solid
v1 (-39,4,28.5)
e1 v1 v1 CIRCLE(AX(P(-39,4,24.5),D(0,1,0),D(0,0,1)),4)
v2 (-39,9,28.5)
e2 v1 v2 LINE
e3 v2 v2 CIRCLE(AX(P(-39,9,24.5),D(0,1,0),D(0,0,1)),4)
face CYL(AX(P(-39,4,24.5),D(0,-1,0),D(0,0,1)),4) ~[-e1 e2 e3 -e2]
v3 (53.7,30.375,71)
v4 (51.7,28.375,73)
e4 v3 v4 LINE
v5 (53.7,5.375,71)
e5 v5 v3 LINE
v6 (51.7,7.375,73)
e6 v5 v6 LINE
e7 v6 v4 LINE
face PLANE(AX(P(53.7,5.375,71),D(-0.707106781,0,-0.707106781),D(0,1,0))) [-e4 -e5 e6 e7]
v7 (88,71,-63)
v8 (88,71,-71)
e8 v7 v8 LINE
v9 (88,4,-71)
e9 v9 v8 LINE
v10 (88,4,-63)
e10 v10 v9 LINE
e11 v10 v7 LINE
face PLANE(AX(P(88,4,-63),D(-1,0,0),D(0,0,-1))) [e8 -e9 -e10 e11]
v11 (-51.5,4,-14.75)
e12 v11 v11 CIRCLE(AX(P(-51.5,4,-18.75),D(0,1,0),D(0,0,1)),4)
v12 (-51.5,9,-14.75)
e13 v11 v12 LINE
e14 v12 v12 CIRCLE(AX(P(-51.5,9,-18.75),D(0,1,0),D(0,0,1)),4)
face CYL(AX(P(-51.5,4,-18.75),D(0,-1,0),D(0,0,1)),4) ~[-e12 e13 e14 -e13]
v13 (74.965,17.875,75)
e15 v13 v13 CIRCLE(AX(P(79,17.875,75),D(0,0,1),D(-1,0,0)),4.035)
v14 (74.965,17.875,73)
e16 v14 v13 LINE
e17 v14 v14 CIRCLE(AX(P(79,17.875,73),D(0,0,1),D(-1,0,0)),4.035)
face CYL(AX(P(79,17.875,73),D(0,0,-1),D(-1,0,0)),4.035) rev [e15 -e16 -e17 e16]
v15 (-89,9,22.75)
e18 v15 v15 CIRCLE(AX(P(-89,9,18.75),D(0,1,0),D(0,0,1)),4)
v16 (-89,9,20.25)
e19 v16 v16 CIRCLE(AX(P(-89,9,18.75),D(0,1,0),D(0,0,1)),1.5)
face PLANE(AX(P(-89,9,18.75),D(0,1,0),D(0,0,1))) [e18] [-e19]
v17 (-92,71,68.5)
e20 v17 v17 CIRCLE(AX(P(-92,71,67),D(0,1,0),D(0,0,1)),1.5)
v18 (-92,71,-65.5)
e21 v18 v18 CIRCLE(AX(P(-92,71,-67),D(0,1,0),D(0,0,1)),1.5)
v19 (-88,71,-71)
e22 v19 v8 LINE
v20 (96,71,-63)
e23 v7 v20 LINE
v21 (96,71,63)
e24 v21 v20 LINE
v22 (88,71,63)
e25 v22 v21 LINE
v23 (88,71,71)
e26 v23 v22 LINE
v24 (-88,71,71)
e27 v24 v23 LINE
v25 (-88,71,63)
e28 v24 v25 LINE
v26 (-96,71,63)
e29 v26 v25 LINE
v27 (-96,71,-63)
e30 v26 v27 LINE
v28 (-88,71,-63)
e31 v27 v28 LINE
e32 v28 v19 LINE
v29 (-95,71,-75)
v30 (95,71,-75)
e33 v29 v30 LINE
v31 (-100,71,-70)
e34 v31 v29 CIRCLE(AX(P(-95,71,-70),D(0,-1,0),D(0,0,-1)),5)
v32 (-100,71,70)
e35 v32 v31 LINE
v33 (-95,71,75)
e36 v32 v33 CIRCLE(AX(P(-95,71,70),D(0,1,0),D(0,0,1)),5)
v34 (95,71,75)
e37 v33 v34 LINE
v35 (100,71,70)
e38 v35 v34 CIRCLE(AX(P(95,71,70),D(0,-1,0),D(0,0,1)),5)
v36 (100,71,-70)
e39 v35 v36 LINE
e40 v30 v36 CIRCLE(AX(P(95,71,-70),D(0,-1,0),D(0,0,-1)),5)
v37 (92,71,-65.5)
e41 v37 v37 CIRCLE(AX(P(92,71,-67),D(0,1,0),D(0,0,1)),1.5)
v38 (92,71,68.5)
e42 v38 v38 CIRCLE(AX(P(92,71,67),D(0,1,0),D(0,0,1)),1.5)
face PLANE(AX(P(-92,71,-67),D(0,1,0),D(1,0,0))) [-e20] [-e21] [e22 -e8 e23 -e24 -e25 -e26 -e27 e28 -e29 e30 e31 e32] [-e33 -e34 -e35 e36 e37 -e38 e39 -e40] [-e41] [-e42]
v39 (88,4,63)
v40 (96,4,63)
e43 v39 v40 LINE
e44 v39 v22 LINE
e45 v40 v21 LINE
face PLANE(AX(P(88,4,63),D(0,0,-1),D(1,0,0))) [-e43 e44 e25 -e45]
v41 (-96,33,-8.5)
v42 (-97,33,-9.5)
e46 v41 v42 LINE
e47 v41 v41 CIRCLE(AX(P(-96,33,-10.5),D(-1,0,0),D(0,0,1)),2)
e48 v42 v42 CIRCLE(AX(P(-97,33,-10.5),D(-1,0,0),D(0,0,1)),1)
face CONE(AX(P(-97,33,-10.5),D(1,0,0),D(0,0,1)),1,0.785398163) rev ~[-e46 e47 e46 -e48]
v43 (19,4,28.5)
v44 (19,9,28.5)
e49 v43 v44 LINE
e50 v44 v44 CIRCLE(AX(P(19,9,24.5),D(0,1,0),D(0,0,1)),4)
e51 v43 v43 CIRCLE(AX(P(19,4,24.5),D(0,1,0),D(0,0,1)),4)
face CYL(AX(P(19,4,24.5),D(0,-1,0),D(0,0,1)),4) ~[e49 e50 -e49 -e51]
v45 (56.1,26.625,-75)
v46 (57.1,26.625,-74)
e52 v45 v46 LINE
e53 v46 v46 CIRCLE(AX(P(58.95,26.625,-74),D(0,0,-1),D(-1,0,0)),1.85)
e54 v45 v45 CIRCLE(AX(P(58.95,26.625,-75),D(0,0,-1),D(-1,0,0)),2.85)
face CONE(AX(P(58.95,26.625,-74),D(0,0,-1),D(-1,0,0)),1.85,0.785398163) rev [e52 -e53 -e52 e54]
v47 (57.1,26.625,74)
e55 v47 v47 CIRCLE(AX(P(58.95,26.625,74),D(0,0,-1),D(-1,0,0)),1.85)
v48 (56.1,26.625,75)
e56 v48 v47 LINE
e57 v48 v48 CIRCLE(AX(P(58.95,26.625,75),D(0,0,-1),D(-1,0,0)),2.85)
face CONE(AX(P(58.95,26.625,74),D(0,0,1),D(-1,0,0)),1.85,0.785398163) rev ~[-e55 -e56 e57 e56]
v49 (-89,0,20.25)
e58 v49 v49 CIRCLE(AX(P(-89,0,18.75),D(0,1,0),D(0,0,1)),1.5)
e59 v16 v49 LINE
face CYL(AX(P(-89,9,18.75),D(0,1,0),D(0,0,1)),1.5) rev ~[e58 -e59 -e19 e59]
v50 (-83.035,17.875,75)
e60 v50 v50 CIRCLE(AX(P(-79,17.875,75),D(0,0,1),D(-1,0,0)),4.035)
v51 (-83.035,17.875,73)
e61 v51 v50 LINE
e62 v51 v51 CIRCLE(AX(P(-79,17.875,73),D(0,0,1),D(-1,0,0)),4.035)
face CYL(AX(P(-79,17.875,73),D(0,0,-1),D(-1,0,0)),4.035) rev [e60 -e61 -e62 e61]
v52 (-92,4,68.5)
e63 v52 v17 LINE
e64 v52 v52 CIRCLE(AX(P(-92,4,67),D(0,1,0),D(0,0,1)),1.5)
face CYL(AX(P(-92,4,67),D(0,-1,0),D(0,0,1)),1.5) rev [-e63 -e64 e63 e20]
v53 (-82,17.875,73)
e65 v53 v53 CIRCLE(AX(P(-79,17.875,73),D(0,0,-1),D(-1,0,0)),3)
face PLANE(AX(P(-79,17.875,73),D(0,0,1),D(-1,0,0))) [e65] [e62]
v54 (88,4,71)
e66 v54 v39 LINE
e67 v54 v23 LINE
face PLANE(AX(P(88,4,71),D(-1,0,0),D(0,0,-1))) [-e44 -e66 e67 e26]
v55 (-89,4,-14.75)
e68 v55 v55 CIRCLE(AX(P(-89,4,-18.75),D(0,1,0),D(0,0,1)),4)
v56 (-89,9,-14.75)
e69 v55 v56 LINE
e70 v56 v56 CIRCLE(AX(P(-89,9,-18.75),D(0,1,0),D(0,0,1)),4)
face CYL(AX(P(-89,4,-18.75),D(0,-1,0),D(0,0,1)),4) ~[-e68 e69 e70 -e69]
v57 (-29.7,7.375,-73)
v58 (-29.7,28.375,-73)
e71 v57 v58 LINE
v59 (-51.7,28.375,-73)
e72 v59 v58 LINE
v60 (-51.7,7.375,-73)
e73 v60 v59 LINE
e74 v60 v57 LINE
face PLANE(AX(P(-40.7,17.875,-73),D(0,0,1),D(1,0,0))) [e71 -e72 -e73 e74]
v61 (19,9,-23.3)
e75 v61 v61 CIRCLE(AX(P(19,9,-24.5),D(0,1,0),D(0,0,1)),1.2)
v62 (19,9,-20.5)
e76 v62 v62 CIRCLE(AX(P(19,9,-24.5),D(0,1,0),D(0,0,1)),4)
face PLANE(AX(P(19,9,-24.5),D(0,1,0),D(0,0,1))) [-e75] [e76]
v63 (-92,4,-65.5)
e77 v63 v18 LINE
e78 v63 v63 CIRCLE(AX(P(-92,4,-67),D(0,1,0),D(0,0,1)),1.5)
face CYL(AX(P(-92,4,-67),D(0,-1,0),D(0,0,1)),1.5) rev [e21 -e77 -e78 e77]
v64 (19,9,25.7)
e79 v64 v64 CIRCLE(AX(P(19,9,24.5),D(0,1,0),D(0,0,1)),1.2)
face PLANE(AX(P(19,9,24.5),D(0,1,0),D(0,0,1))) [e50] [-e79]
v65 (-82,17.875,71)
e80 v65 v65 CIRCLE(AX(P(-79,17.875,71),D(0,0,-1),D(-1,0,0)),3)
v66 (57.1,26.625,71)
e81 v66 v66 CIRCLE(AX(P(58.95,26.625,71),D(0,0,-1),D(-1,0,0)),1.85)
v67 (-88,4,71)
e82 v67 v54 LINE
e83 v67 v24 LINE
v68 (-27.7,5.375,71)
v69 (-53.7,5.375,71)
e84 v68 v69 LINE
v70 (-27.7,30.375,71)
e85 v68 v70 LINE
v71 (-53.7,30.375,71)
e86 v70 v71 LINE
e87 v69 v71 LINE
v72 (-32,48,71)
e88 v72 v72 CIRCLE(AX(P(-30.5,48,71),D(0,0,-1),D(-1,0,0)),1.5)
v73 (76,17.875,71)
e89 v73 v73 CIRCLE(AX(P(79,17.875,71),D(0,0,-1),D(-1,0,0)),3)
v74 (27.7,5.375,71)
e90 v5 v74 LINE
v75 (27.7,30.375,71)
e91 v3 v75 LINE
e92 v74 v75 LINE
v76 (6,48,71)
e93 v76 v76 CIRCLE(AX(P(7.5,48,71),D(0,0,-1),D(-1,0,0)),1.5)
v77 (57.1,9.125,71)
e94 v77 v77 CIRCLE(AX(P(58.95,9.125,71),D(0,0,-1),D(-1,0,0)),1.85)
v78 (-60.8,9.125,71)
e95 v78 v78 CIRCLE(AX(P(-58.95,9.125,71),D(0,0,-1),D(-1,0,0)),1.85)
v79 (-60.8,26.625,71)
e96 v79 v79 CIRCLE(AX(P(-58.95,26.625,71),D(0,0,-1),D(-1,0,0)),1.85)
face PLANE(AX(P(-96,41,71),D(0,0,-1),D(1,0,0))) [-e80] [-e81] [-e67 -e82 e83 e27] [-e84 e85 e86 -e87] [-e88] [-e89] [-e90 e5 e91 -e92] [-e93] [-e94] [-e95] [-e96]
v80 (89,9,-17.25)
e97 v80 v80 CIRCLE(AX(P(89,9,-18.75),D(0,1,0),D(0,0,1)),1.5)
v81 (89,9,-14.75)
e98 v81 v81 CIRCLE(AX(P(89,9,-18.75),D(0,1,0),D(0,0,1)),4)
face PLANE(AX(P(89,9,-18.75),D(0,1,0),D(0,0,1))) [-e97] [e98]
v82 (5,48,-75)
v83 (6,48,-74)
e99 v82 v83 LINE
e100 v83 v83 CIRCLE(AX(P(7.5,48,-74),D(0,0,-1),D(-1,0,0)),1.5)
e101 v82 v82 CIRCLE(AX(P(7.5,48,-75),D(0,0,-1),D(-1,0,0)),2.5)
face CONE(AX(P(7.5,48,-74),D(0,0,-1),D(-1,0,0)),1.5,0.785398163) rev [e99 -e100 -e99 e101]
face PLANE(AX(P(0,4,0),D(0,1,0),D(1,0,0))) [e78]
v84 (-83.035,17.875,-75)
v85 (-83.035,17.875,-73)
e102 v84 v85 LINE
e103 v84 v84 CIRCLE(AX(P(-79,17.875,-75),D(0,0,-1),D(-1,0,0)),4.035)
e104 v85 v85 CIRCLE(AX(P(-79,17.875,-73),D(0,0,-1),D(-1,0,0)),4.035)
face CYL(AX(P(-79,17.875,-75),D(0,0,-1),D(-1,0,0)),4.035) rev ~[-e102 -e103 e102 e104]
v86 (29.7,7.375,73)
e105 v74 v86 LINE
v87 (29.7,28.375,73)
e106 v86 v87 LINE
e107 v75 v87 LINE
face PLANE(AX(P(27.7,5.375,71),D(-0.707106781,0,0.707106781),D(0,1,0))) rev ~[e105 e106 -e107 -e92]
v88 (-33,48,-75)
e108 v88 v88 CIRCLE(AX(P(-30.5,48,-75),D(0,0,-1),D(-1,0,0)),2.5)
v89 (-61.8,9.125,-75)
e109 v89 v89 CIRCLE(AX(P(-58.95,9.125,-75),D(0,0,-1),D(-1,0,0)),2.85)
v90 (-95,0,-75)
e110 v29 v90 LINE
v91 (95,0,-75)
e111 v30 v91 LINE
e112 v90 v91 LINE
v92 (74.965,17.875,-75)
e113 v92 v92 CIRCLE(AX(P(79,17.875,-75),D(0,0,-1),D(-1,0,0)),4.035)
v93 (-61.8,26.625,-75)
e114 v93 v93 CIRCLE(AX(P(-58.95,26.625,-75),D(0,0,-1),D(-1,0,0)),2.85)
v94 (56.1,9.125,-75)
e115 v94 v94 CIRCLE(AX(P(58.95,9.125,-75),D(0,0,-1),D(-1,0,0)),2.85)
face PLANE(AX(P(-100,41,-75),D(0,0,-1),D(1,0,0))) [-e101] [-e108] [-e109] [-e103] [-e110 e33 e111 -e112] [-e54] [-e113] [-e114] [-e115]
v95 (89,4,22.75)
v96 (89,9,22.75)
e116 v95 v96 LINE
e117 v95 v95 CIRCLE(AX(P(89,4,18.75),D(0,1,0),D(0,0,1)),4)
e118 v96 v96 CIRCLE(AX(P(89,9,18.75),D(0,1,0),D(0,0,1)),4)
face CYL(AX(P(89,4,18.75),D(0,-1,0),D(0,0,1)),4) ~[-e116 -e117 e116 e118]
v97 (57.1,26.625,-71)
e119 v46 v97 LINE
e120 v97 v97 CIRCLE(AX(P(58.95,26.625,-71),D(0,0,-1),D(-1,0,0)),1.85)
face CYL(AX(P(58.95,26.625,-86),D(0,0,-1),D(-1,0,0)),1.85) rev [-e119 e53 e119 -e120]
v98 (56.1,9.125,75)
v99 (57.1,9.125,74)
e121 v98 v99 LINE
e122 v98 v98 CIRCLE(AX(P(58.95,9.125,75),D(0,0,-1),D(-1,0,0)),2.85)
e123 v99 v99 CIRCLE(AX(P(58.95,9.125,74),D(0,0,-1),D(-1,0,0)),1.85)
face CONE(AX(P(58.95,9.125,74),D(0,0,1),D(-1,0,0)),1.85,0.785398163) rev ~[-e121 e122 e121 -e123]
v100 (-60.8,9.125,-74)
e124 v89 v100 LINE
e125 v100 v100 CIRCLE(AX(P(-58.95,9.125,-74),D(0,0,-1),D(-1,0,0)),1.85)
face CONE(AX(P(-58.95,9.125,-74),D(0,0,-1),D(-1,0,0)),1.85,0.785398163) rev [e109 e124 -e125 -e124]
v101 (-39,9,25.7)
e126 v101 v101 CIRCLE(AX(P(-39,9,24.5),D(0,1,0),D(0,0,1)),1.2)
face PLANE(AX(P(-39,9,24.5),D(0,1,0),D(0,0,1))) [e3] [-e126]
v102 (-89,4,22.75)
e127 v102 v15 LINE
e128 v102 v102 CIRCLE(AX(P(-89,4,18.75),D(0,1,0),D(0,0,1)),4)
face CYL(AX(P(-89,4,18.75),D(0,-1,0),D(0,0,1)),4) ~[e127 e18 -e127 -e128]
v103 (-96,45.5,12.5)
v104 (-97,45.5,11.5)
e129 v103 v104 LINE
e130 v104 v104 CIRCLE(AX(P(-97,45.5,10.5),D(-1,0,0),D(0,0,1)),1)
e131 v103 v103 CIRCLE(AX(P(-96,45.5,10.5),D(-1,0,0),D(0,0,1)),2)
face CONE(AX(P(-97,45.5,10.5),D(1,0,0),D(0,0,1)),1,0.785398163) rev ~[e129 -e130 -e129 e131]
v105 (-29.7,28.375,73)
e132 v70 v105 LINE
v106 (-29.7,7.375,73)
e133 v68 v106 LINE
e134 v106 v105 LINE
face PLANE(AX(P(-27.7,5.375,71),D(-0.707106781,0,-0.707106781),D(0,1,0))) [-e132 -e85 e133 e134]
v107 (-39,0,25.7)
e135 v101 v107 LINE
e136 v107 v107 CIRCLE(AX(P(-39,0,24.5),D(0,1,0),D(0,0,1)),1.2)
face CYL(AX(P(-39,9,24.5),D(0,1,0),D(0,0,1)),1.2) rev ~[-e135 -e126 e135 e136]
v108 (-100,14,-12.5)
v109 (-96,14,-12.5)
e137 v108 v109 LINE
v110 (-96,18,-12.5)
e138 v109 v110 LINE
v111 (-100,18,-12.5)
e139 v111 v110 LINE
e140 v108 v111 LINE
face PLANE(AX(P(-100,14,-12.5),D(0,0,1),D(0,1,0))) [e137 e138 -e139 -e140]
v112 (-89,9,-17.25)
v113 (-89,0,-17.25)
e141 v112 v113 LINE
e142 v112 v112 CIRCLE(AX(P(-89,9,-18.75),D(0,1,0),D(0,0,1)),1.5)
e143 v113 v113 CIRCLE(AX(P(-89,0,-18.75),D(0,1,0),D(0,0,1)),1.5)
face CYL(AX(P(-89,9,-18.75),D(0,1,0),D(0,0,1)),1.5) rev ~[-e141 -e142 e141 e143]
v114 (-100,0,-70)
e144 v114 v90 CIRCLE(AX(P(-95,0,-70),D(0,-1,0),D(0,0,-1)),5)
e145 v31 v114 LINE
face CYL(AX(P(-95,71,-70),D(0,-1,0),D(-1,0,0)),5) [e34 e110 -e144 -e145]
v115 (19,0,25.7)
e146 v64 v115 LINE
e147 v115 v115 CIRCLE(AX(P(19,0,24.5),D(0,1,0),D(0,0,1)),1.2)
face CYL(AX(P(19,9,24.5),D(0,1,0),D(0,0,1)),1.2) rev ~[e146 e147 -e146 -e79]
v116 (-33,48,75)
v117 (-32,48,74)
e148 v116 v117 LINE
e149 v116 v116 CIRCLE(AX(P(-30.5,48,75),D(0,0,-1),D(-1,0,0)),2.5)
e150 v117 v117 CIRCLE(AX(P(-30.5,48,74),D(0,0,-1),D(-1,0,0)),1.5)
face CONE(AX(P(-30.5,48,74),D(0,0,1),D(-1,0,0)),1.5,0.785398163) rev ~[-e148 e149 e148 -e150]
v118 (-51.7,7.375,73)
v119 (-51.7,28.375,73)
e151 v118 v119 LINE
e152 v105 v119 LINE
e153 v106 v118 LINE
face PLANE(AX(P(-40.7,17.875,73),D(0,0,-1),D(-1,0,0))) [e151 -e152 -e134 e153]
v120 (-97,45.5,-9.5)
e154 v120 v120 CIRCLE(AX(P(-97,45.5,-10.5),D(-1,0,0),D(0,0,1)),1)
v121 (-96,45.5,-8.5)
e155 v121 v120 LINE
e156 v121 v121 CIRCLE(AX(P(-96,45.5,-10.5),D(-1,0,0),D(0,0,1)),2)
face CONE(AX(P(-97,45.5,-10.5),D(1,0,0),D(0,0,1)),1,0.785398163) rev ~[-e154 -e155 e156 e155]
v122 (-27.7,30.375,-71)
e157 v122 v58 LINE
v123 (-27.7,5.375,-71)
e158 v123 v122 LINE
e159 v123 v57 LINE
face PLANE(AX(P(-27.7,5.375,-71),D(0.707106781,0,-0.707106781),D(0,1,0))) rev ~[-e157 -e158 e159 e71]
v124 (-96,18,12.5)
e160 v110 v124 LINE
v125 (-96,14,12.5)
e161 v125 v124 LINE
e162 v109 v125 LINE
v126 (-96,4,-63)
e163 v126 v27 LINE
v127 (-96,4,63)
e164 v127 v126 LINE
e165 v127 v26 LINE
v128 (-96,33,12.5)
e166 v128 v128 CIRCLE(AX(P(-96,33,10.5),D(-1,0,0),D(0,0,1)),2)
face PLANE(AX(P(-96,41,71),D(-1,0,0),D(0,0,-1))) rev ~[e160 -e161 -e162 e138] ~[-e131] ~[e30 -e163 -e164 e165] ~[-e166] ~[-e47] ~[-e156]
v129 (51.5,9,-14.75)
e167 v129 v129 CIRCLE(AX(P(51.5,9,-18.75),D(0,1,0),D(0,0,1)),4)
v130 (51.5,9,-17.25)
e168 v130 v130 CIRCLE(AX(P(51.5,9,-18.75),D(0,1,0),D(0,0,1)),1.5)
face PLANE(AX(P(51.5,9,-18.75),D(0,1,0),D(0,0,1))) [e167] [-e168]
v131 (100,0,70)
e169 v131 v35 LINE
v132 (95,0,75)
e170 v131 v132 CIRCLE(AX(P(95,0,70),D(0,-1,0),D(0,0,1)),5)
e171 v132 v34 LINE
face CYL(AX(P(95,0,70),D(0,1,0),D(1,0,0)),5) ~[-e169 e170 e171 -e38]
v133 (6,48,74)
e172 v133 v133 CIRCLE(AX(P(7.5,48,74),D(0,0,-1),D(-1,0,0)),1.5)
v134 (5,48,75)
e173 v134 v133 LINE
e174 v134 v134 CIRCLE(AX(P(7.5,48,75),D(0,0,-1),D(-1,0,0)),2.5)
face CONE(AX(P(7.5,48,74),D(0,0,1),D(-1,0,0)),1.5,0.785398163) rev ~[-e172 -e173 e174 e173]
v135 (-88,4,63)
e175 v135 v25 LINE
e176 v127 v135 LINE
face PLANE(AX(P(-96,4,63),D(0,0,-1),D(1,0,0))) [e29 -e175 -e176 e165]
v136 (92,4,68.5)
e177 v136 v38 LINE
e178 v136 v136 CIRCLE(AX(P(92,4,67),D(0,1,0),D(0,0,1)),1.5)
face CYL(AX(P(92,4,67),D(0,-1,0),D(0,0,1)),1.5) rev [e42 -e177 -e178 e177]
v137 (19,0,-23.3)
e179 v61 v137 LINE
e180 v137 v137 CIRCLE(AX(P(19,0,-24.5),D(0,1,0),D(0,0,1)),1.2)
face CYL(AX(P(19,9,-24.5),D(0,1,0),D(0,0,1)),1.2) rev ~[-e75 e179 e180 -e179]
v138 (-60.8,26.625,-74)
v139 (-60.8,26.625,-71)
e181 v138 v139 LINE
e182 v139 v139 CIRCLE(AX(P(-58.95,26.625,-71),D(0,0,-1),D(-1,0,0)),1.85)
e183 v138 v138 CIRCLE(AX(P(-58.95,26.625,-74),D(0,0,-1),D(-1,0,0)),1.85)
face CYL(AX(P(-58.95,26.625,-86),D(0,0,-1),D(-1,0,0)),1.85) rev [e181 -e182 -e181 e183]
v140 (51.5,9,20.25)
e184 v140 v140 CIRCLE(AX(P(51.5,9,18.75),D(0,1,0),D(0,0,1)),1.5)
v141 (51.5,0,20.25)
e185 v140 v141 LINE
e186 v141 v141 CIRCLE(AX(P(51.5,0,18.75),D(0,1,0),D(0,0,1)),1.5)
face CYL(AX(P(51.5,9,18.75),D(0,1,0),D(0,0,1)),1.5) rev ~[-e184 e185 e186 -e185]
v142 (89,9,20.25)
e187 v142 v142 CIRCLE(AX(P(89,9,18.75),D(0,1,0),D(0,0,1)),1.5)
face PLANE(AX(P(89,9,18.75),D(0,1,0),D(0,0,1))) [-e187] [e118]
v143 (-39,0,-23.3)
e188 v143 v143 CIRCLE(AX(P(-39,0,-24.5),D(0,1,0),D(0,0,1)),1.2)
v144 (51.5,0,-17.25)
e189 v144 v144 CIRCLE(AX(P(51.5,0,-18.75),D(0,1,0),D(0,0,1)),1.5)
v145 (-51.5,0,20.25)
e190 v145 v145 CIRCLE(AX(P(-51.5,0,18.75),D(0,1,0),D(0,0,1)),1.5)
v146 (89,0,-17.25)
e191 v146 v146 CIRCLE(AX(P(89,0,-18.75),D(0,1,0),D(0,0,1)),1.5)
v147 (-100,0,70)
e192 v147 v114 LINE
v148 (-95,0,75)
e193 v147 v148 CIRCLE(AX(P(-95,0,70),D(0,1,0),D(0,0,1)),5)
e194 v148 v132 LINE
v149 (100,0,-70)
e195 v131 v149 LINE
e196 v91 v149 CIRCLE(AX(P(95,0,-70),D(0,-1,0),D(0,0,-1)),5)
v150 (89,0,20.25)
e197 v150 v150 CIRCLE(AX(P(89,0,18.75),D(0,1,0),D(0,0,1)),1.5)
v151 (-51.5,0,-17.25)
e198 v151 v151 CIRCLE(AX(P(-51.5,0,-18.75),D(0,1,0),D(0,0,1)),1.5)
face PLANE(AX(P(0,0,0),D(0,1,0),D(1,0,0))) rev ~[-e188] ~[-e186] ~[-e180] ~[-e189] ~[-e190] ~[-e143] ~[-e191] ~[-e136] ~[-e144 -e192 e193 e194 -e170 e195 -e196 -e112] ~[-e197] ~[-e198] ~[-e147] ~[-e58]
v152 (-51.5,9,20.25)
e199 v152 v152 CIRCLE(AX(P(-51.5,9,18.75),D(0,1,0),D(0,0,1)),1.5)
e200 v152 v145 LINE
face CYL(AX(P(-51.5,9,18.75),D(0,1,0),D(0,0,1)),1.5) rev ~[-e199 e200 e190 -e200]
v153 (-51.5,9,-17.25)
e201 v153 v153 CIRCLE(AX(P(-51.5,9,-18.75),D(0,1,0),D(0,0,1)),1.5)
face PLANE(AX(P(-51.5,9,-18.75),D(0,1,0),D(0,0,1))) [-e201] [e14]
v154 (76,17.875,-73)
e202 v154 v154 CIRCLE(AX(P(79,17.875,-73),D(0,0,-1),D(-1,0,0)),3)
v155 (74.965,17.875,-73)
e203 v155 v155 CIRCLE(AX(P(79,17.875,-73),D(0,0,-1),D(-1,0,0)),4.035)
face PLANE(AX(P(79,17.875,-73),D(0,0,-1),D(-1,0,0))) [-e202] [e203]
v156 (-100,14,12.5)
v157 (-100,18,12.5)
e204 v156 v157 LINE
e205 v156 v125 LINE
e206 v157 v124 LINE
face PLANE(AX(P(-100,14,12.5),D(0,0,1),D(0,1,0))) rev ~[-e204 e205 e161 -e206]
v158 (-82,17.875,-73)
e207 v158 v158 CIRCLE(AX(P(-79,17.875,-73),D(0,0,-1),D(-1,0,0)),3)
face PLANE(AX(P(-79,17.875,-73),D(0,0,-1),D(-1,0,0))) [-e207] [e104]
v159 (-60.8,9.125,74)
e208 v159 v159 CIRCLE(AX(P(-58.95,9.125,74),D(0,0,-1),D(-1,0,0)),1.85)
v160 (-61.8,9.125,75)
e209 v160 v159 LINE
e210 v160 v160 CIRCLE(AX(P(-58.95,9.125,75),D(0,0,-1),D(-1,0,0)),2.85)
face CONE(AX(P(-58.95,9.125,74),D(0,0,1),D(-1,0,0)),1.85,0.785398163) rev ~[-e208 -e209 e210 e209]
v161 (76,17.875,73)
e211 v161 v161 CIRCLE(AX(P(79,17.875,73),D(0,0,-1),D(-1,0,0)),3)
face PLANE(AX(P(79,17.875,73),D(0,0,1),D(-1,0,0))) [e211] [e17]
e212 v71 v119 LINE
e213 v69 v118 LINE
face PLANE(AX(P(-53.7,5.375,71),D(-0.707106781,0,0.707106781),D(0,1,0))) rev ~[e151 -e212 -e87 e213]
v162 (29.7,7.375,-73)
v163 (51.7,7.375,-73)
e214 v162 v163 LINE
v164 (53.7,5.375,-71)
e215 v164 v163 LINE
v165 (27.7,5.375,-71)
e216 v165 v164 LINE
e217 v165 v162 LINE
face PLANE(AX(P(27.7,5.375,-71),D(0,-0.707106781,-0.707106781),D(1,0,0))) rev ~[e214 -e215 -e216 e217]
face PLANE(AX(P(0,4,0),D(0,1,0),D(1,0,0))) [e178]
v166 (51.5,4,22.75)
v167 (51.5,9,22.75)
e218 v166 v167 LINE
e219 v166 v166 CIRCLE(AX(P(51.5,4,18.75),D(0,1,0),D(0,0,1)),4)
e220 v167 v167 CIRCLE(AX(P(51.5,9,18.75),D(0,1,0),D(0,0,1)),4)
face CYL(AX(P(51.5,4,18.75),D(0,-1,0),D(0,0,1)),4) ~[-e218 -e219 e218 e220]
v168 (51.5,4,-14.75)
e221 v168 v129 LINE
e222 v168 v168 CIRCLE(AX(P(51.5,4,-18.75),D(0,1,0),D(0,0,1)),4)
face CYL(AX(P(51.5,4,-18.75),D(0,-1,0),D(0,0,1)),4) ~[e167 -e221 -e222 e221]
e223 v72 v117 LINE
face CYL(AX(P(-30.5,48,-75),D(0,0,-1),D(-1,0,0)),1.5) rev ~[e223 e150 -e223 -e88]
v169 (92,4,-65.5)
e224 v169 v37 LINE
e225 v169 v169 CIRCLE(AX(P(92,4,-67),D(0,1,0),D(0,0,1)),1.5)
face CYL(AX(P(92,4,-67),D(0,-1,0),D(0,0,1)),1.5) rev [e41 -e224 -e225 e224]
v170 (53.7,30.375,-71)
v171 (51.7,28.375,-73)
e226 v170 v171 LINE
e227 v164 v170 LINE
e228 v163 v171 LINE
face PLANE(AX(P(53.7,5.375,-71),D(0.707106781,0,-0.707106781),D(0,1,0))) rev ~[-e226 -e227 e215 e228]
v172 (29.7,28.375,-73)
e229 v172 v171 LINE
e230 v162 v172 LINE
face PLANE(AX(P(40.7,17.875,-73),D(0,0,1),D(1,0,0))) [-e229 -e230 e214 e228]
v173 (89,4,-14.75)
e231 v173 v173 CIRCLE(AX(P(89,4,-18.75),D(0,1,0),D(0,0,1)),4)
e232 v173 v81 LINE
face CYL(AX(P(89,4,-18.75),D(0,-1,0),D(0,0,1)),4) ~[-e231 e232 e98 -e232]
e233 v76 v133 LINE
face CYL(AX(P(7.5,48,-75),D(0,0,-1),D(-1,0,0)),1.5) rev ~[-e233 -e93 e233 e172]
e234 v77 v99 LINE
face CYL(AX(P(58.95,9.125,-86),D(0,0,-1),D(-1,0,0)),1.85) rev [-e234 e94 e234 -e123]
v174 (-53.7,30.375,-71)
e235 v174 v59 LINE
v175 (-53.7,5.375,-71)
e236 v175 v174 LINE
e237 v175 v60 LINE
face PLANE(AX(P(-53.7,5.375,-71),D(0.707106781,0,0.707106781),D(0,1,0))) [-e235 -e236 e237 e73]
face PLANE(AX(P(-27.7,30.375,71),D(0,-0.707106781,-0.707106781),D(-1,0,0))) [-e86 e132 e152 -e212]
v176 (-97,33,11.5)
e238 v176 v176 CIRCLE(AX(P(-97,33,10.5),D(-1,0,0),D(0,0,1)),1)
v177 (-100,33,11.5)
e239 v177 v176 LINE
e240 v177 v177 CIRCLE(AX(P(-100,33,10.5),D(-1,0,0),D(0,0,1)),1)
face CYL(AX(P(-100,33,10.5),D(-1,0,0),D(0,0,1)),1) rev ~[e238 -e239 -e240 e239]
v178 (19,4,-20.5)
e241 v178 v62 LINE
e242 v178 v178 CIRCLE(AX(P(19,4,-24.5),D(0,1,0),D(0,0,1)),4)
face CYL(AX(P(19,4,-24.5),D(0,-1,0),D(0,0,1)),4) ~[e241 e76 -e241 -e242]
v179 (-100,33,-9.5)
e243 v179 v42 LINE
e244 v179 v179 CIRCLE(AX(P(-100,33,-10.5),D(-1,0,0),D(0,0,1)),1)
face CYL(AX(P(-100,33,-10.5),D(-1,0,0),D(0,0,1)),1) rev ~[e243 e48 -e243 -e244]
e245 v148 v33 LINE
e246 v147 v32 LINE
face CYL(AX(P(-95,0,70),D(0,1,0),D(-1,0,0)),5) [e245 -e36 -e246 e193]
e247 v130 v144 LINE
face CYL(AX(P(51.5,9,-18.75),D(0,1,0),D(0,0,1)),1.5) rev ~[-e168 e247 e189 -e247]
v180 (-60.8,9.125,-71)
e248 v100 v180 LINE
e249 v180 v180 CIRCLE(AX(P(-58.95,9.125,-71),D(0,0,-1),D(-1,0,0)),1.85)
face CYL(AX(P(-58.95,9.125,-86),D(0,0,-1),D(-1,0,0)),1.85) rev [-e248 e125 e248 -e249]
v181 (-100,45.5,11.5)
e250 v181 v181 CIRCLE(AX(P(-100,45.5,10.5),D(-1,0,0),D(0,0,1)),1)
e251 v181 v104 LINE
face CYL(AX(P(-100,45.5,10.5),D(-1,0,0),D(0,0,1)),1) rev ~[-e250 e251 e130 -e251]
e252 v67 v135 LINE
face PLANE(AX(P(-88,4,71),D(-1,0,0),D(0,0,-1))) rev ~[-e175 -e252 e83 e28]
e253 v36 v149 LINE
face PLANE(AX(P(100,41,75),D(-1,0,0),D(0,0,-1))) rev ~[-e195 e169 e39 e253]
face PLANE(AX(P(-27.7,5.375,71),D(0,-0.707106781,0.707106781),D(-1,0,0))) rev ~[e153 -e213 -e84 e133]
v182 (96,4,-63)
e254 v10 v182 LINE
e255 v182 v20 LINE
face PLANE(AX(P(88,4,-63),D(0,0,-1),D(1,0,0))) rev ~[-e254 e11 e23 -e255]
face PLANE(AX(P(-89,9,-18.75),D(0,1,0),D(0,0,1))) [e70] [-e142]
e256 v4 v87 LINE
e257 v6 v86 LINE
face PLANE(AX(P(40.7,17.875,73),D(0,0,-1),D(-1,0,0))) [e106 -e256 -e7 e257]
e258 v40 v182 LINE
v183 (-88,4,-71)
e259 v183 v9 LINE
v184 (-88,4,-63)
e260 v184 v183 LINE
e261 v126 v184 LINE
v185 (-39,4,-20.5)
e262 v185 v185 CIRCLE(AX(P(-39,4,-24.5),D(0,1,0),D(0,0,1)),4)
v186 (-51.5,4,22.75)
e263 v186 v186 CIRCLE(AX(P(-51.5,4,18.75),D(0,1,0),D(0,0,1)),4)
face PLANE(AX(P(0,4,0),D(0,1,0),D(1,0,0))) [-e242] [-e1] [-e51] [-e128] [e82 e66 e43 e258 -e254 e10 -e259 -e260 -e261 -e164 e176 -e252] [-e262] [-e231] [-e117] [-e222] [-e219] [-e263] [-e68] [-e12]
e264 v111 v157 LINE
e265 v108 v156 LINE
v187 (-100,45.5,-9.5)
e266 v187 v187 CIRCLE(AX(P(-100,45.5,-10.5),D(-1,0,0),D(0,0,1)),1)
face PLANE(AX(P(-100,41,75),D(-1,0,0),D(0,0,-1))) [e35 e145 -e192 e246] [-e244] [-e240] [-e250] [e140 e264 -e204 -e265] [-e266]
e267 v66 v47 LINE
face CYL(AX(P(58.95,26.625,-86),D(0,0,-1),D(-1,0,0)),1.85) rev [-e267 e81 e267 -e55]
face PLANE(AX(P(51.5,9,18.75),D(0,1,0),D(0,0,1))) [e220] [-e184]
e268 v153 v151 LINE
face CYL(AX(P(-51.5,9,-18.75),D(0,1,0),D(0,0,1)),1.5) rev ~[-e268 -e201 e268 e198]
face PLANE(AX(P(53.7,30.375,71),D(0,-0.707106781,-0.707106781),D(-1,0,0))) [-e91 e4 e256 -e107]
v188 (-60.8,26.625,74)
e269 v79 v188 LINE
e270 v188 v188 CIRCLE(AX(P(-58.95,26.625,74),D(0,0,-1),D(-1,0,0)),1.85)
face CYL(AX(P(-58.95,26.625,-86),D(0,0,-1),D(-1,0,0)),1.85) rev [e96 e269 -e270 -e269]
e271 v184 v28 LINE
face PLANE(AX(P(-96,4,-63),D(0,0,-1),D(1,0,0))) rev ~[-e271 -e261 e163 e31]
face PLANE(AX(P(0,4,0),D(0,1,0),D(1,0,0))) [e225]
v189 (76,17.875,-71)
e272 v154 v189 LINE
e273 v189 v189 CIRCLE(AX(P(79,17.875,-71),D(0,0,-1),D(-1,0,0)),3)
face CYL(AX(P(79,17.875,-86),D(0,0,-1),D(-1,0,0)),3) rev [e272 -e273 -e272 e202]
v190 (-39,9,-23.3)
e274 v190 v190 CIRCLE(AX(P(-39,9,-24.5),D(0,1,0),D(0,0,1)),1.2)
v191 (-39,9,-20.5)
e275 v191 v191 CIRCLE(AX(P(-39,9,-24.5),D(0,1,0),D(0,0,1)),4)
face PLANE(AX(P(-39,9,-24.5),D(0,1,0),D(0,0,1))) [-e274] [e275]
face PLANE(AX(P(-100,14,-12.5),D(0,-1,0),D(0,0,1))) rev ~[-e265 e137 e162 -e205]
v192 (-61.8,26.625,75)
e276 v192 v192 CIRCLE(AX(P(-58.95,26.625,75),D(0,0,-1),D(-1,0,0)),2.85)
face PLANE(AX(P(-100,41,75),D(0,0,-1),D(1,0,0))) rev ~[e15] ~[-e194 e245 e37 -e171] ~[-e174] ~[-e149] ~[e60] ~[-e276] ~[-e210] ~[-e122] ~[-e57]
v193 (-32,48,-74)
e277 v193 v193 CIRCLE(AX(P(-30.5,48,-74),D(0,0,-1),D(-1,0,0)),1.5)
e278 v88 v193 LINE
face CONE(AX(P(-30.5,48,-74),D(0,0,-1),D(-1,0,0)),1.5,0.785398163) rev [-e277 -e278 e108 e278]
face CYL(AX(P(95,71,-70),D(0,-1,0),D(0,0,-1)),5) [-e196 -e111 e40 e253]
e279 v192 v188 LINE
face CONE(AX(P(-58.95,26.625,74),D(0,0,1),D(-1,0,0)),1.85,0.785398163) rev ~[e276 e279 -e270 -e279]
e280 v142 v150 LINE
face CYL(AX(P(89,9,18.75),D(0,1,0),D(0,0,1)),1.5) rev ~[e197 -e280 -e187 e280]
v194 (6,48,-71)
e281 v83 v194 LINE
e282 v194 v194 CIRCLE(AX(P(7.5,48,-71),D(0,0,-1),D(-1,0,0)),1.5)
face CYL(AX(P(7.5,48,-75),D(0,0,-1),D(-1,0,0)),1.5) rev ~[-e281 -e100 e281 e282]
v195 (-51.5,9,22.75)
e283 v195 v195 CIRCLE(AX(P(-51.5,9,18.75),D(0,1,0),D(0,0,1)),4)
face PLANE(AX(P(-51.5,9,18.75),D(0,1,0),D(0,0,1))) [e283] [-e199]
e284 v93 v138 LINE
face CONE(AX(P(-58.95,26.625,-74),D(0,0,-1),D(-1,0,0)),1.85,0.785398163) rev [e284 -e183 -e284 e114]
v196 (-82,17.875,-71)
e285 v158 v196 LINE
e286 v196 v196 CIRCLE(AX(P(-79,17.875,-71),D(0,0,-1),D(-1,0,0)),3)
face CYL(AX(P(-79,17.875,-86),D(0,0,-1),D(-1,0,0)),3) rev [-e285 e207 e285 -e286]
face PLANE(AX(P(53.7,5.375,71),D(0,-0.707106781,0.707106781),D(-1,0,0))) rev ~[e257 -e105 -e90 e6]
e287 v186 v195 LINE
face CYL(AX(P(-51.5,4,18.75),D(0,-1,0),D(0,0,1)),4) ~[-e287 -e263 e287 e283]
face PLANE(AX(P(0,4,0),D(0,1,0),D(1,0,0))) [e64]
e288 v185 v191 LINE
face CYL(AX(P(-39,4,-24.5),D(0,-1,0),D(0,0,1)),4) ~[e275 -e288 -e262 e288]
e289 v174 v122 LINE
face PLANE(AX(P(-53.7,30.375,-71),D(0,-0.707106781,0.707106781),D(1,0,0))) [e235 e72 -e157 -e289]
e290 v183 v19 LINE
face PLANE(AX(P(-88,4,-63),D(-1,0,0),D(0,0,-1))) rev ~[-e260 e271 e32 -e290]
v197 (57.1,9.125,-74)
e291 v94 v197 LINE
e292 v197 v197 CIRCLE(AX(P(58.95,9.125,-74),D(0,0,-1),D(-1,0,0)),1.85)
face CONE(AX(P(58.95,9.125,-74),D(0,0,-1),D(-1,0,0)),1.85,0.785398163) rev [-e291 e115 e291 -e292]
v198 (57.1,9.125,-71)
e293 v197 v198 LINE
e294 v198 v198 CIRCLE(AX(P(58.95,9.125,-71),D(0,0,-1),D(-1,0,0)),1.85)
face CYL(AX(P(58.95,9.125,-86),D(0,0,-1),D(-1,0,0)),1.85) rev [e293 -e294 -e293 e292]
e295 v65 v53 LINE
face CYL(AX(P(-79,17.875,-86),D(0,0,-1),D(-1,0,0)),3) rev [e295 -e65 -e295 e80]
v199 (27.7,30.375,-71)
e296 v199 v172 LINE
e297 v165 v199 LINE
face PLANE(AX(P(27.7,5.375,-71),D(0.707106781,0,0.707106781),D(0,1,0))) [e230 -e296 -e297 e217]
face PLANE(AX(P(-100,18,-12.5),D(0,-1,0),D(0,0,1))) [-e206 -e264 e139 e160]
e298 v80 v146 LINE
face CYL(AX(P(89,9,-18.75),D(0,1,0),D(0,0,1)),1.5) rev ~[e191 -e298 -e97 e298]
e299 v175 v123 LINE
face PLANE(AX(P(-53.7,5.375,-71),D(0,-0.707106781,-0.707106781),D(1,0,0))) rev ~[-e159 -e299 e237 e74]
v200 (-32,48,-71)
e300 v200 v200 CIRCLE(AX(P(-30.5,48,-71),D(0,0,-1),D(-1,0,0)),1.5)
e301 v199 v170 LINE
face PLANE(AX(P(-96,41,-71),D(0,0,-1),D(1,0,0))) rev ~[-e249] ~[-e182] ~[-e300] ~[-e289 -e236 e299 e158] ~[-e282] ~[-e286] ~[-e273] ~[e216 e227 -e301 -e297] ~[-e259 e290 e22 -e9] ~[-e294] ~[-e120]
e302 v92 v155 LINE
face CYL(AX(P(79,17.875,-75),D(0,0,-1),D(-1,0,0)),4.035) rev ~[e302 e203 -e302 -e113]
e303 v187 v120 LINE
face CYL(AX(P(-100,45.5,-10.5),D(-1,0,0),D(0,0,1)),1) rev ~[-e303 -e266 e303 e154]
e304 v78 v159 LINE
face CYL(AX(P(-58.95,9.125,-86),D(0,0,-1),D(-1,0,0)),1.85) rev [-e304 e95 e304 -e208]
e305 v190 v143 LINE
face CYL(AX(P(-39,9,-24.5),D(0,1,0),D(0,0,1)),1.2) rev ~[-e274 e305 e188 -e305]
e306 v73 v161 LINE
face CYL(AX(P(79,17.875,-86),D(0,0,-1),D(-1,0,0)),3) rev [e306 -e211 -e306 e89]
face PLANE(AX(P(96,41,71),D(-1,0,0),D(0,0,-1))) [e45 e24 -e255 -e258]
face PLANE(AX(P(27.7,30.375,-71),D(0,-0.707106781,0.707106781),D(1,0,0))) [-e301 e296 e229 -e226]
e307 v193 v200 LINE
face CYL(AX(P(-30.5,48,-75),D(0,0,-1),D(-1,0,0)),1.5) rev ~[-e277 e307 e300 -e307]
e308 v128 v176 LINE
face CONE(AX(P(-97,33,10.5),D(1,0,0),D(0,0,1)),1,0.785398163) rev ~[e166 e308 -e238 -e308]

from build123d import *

# Parameters (mm, degrees)
SZKIC2_W                        = 200
SZKIC2_H                        = 150
DODANIE_WYCI_GNI_CIE1_DEPTH     = 41
SKORUPA1_T                      = -4
WYTNIJ_WYCI_GNI_CIE2_DEPTH      = 167
WYTNIJ_WYCI_GNI_CIE2_DEPTH_BACK = 15
SZKIC3_R                        = 3
SZKIC3_R_2                      = 1.85
SZKIC4_R                        = 4.035
WYTNIJ_WYCI_GNI_CIE3_DEPTH      = 2
WYTNIJ_WYCI_GNI_CIE4_START      = -2
SZKIC5_R                        = 4.035
WYTNIJ_WYCI_GNI_CIE4_DEPTH      = 2
SZKIC6_R                        = 4
DODANIE_WYCI_GNI_CIE2_DEPTH     = 5
SZKIC7_R                        = 1.2
WYTNIJ_WYCI_GNI_CIE5_DEPTH      = 10
SZKIC9_W                        = 26
SZKIC9_H                        = 25
WYTNIJ_WYCI_GNI_CIE7_DEPTH      = 2
WYTNIJ_WYCI_GNI_CIE7_DRAFT      = -45
SZKIC10_W                       = 26
SZKIC10_H                       = 25
WYTNIJ_WYCI_GNI_CIE8_DEPTH      = 2
WYTNIJ_WYCI_GNI_CIE8_DRAFT      = -45
SZKIC11_W                       = 26
SZKIC11_H                       = 25
WYTNIJ_WYCI_GNI_CIE9_DEPTH      = 2
WYTNIJ_WYCI_GNI_CIE9_DRAFT      = -45
SZKIC12_W                       = 26
SZKIC12_H                       = 25
WYTNIJ_WYCI_GNI_CIE10_DEPTH     = 2
WYTNIJ_WYCI_GNI_CIE10_DRAFT     = -45
SZKIC13_R                       = 4
DODANIE_WYCI_GNI_CIE3_DEPTH     = 5
SZKIC14_R                       = 1.5
WYTNIJ_WYCI_GNI_CIE11_DEPTH     = 20
SZKIC15_W                       = 200
SZKIC15_H                       = 150
SZKIC15_W_2                     = 192
SZKIC15_H_2                     = 142
DODANIE_WYCI_GNI_CIE4_DEPTH     = 30
SZKIC18_R                       = 1.5
WYTNIJ_WYCI_GNI_CIE12_DEPTH     = 170
SFAZOWANIE4_SIZE                = 1
ZAOKR_GLENIE2_R                 = 5
ZAOKR_GLENIE3_R                 = 5
ZAOKR_GLENIE4_R                 = 5
ZAOKR_GLENIE5_R                 = 5
SZKIC20_W                       = 25
SZKIC20_H                       = 4
WYTNIJ_WYCI_GNI_CIE13_DEPTH     = 10
SZKIC21_W                       = 8
SZKIC21_H                       = 8
SZKIC21_R                       = 1.5
DODANIE_WYCI_GNI_CIE5_DEPTH     = 67
SZKIC22_R                       = 4
DODANIE_WYCI_GNI_CIE6_DEPTH     = 5
SZKIC23_R                       = 1.5
WYTNIJ_WYCI_GNI_CIE14_DEPTH     = 10
SZKIC24_R                       = 1
WYTNIJ_WYCI_GNI_CIE15_DEPTH     = 5
SFAZOWANIE5_SIZE                = 1


with BuildPart() as part:
    # Szkic2 → Dodanie-wyciągnięcie1 (new body)
    with BuildSketch(Plane(origin=(0, 0, 0), x_dir=(1, 0, 0), z_dir=(0, 1, 0))):
        Rectangle(SZKIC2_W, SZKIC2_H)
    extrude(amount=DODANIE_WYCI_GNI_CIE1_DEPTH)

    # Skorupa1
    skorupa1_openings = [part.faces().sort_by_distance(p)[0] for p in [
        (0, 41, 0),
    ]]
    offset(amount=SKORUPA1_T, openings=skorupa1_openings, kind=Kind.INTERSECTION)

    # Szkic3 → Wytnij-wyciągnięcie2 (cut, two sides: drawn at the far end of the back side and taken through both)
    with BuildSketch(Plane.XY.offset(-71).offset(-WYTNIJ_WYCI_GNI_CIE2_DEPTH_BACK)):
        with Locations(Location((-79, 17.875, 0), (0, 0, 180))):
            Circle(SZKIC3_R)
        with Locations(Location((-58.95, 26.625, 0), (0, 0, 180))):
            Circle(SZKIC3_R_2)
        with Locations(Location((-58.95, 9.125, 0), (0, 0, 180))):
            Circle(SZKIC3_R_2)
        with Locations(Location((79, 17.875, 0), (0, 0, 180))):
            Circle(SZKIC3_R)
        with Locations(Location((58.95, 26.625, 0), (0, 0, 180))):
            Circle(SZKIC3_R_2)
        with Locations(Location((58.95, 9.125, 0), (0, 0, 180))):
            Circle(SZKIC3_R_2)
    extrude(amount=WYTNIJ_WYCI_GNI_CIE2_DEPTH + WYTNIJ_WYCI_GNI_CIE2_DEPTH_BACK, mode=Mode.SUBTRACT)

    # Szkic4 → Wytnij-wyciągnięcie3 (cut)
    with BuildSketch(Plane(origin=(0, 0, -75), x_dir=(-1, 0, 0), z_dir=(0, 0, -1))):
        with Locations((-79, 17.875)):
            Circle(SZKIC4_R)
        with Locations((79, 17.875)):
            Circle(SZKIC4_R)
    extrude(amount=-WYTNIJ_WYCI_GNI_CIE3_DEPTH, mode=Mode.SUBTRACT)

    # Szkic5 → Wytnij-wyciągnięcie4 (cut)
    with BuildSketch(Plane.XY.offset(75).offset(WYTNIJ_WYCI_GNI_CIE4_START)):
        with Locations(Location((79, 17.875, 0), (0, 0, 180))):
            Circle(SZKIC5_R)
        with Locations(Location((-79, 17.875, 0), (0, 0, 180))):
            Circle(SZKIC5_R)
    extrude(amount=WYTNIJ_WYCI_GNI_CIE4_DEPTH, mode=Mode.SUBTRACT)

    # Szkic6 → Dodanie-wyciągnięcie2 (add)
    with BuildSketch(Plane(origin=(0, 4, 0), x_dir=(1, 0, 0), z_dir=(0, 1, 0))):
        with Locations(Location((19, -24.5, 0), (0, 0, 270))):
            Circle(SZKIC6_R)
        with Locations(Location((19, 24.5, 0), (0, 0, 270))):
            Circle(SZKIC6_R)
        with Locations(Location((-39, 24.5, 0), (0, 0, 270))):
            Circle(SZKIC6_R)
        with Locations(Location((-39, -24.5, 0), (0, 0, 270))):
            Circle(SZKIC6_R)
    extrude(amount=DODANIE_WYCI_GNI_CIE2_DEPTH)

    # Szkic7 → Wytnij-wyciągnięcie5 (cut)
    with BuildSketch(Plane(origin=(0, 9, 0), x_dir=(1, 0, 0), z_dir=(0, 1, 0))):
        with Locations(Location((-39, 24.5, 0), (0, 0, 270))):
            Circle(SZKIC7_R)
        with Locations(Location((19, 24.5, 0), (0, 0, 270))):
            Circle(SZKIC7_R)
        with Locations(Location((19, -24.5, 0), (0, 0, 270))):
            Circle(SZKIC7_R)
        with Locations(Location((-39, -24.5, 0), (0, 0, 270))):
            Circle(SZKIC7_R)
    extrude(amount=-WYTNIJ_WYCI_GNI_CIE5_DEPTH, mode=Mode.SUBTRACT)


with BuildPart() as wytnij_wyci_gni_cie7_tool:
    # Szkic9 → Wytnij-wyciągnięcie7 (with draft: the straight prism first)
    with BuildSketch(Plane.XY.offset(-71)):
        with Locations((-40.7, 17.875)):
            Rectangle(SZKIC9_W, SZKIC9_H)
    extrude(amount=-WYTNIJ_WYCI_GNI_CIE7_DEPTH)
    # Wytnij-wyciągnięcie7: the draft: its side faces are tilted about the plane it starts from
    wytnij_wyci_gni_cie7_sides = [wytnij_wyci_gni_cie7_tool.faces().sort_by_distance(p)[0] for p in [
        (-53.7, 17.875, -72),
        (-40.7, 5.375, -72),
        (-27.7, 17.875, -72),
        (-40.7, 30.375, -72),
    ]]
    draft(wytnij_wyci_gni_cie7_sides, Plane.XY.offset(-71), WYTNIJ_WYCI_GNI_CIE7_DRAFT)


with BuildPart() as part_1:
    add(part.part)

    # Wytnij-wyciągnięcie7: cut by wytnij_wyci_gni_cie7_tool
    add(wytnij_wyci_gni_cie7_tool.part, mode=Mode.SUBTRACT)


with BuildPart() as wytnij_wyci_gni_cie8_tool:
    # Szkic10 → Wytnij-wyciągnięcie8 (with draft: the straight prism first)
    with BuildSketch(Plane.XY.offset(-71)):
        with Locations((40.7, 17.875)):
            Rectangle(SZKIC10_W, SZKIC10_H)
    extrude(amount=-WYTNIJ_WYCI_GNI_CIE8_DEPTH)
    # Wytnij-wyciągnięcie8: the draft: its side faces are tilted about the plane it starts from
    wytnij_wyci_gni_cie8_sides = [wytnij_wyci_gni_cie8_tool.faces().sort_by_distance(p)[0] for p in [
        (40.7, 30.375, -72),
        (27.7, 17.875, -72),
        (40.7, 5.375, -72),
        (53.7, 17.875, -72),
    ]]
    draft(wytnij_wyci_gni_cie8_sides, Plane.XY.offset(-71), WYTNIJ_WYCI_GNI_CIE8_DRAFT)


with BuildPart() as part_2:
    add(part_1.part)

    # Wytnij-wyciągnięcie8: cut by wytnij_wyci_gni_cie8_tool
    add(wytnij_wyci_gni_cie8_tool.part, mode=Mode.SUBTRACT)


with BuildPart() as wytnij_wyci_gni_cie9_tool:
    # Szkic11 → Wytnij-wyciągnięcie9 (with draft: the straight prism first)
    with BuildSketch(Plane(origin=(0, 0, 71), x_dir=(-1, 0, 0), z_dir=(0, 0, -1))):
        with Locations((40.7, 17.875)):
            Rectangle(SZKIC11_W, SZKIC11_H)
    extrude(amount=-WYTNIJ_WYCI_GNI_CIE9_DEPTH)
    # Wytnij-wyciągnięcie9: the draft: its side faces are tilted about the plane it starts from
    wytnij_wyci_gni_cie9_sides = [wytnij_wyci_gni_cie9_tool.faces().sort_by_distance(p)[0] for p in [
        (-40.7, 30.375, 72),
        (-27.7, 17.875, 72),
        (-40.7, 5.375, 72),
        (-53.7, 17.875, 72),
    ]]
    draft(wytnij_wyci_gni_cie9_sides, Plane(origin=(0, 0, 71), x_dir=(-1, 0, 0), z_dir=(0, 0, -1)), WYTNIJ_WYCI_GNI_CIE9_DRAFT)


with BuildPart() as part_3:
    add(part_2.part)

    # Wytnij-wyciągnięcie9: cut by wytnij_wyci_gni_cie9_tool
    add(wytnij_wyci_gni_cie9_tool.part, mode=Mode.SUBTRACT)


with BuildPart() as wytnij_wyci_gni_cie10_tool:
    # Szkic12 → Wytnij-wyciągnięcie10 (with draft: the straight prism first)
    with BuildSketch(Plane(origin=(0, 0, 71), x_dir=(-1, 0, 0), z_dir=(0, 0, -1))):
        with Locations((-40.7, 17.875)):
            Rectangle(SZKIC12_W, SZKIC12_H)
    extrude(amount=-WYTNIJ_WYCI_GNI_CIE10_DEPTH)
    # Wytnij-wyciągnięcie10: the draft: its side faces are tilted about the plane it starts from
    wytnij_wyci_gni_cie10_sides = [wytnij_wyci_gni_cie10_tool.faces().sort_by_distance(p)[0] for p in [
        (53.7, 17.875, 72),
        (40.7, 5.375, 72),
        (27.7, 17.875, 72),
        (40.7, 30.375, 72),
    ]]
    draft(wytnij_wyci_gni_cie10_sides, Plane(origin=(0, 0, 71), x_dir=(-1, 0, 0), z_dir=(0, 0, -1)), WYTNIJ_WYCI_GNI_CIE10_DRAFT)


with BuildPart() as part_4:
    add(part_3.part)

    # Wytnij-wyciągnięcie10: cut by wytnij_wyci_gni_cie10_tool
    add(wytnij_wyci_gni_cie10_tool.part, mode=Mode.SUBTRACT)

    # Szkic13 → Dodanie-wyciągnięcie3 (add)
    with BuildSketch(Plane(origin=(0, 4, 0), x_dir=(1, 0, 0), z_dir=(0, 1, 0))):
        with Locations(Location((-51.5, 18.75, 0), (0, 0, 270))):
            Circle(SZKIC13_R)
        with Locations(Location((-89, 18.75, 0), (0, 0, 270))):
            Circle(SZKIC13_R)
        with Locations(Location((-89, -18.75, 0), (0, 0, 270))):
            Circle(SZKIC13_R)
        with Locations(Location((-51.5, -18.75, 0), (0, 0, 270))):
            Circle(SZKIC13_R)
    extrude(amount=DODANIE_WYCI_GNI_CIE3_DEPTH)

    # Szkic14 → Wytnij-wyciągnięcie11 (cut)
    with BuildSketch(Plane(origin=(0, 9, 0), x_dir=(1, 0, 0), z_dir=(0, 1, 0))):
        with Locations(Location((-51.5, 18.75, 0), (0, 0, 270))):
            Circle(SZKIC14_R)
        with Locations(Location((-89, 18.75, 0), (0, 0, 270))):
            Circle(SZKIC14_R)
        with Locations(Location((-89, -18.75, 0), (0, 0, 270))):
            Circle(SZKIC14_R)
        with Locations(Location((-51.5, -18.75, 0), (0, 0, 270))):
            Circle(SZKIC14_R)
    extrude(amount=-WYTNIJ_WYCI_GNI_CIE11_DEPTH, mode=Mode.SUBTRACT)

    # Szkic15 → Dodanie-wyciągnięcie4 (add)
    with BuildSketch(Plane(origin=(0, 41, 0), x_dir=(1, 0, 0), z_dir=(0, 1, 0))):
        Rectangle(SZKIC15_W, SZKIC15_H)
        Rectangle(SZKIC15_W_2, SZKIC15_H_2, mode=Mode.SUBTRACT)
    extrude(amount=DODANIE_WYCI_GNI_CIE4_DEPTH)

    # Szkic18 → Wytnij-wyciągnięcie12 (cut)
    with BuildSketch(Plane(origin=(0, 0, -75), x_dir=(-1, 0, 0), z_dir=(0, 0, -1))):
        with Locations((30.5, 48)):
            Circle(SZKIC18_R)
        with Locations((-7.5, 48)):
            Circle(SZKIC18_R)
    extrude(amount=-WYTNIJ_WYCI_GNI_CIE12_DEPTH, mode=Mode.SUBTRACT)

    # Sfazowanie4
    sfazowanie4_edges = [part_4.edges().sort_by_distance(p)[0] for p in [
        (-29, 48, 75),
        (-29, 48, -75),
        (9, 48, 75),
        (9, 48, -75),
        (60.8, 9.125, -75),
        (60.8, 9.125, 75),
        (60.8, 26.625, -75),
        (60.8, 26.625, 75),
        (-57.1, 9.125, -75),
        (-57.1, 9.125, 75),
        (-57.1, 26.625, -75),
        (-57.1, 26.625, 75),
    ]]
    chamfer(sfazowanie4_edges, length=SFAZOWANIE4_SIZE)

    # Zaokrąglenie2
    zaokr_glenie2_edges = [part_4.edges().sort_by_distance(p)[0] for p in [
        (-100, 35.5, 75),
    ]]
    fillet(zaokr_glenie2_edges, radius=ZAOKR_GLENIE2_R)

    # Zaokrąglenie3
    zaokr_glenie3_edges = [part_4.edges().sort_by_distance(p)[0] for p in [
        (-100, 35.5, -75),
    ]]
    fillet(zaokr_glenie3_edges, radius=ZAOKR_GLENIE3_R)

    # Zaokrąglenie4
    zaokr_glenie4_edges = [part_4.edges().sort_by_distance(p)[0] for p in [
        (100, 35.5, -75),
    ]]
    fillet(zaokr_glenie4_edges, radius=ZAOKR_GLENIE4_R)

    # Zaokrąglenie5
    zaokr_glenie5_edges = [part_4.edges().sort_by_distance(p)[0] for p in [
        (100, 35.5, 75),
    ]]
    fillet(zaokr_glenie5_edges, radius=ZAOKR_GLENIE5_R)

    # Szkic20 → Wytnij-wyciągnięcie13 (cut)
    with BuildSketch(Plane.ZY.offset(100)):
        with Locations((0, 16)):
            Rectangle(SZKIC20_W, SZKIC20_H)
    extrude(amount=-WYTNIJ_WYCI_GNI_CIE13_DEPTH, mode=Mode.SUBTRACT)

    # Szkic21 → Dodanie-wyciągnięcie5 (add)
    # profile 1 of 4: a face of its own
    with BuildSketch(Plane(origin=(0, 4, 0), x_dir=(1, 0, 0), z_dir=(0, 1, 0))):
        with Locations((-92, 67)):
            Rectangle(SZKIC21_W, SZKIC21_H)
        with Locations(Location((-92, 67, 0), (0, 0, 270))):
            Circle(SZKIC21_R, mode=Mode.SUBTRACT)
    # profile 2 of 4: a face of its own
    with BuildSketch(Plane(origin=(0, 4, 0), x_dir=(1, 0, 0), z_dir=(0, 1, 0))):
        with Locations((-92, -67)):
            Rectangle(SZKIC21_W, SZKIC21_H)
        with Locations(Location((-92, -67, 0), (0, 0, 270))):
            Circle(SZKIC21_R, mode=Mode.SUBTRACT)
    # profile 3 of 4: a face of its own
    with BuildSketch(Plane(origin=(0, 4, 0), x_dir=(1, 0, 0), z_dir=(0, 1, 0))):
        with Locations((92, -67)):
            Rectangle(SZKIC21_W, SZKIC21_H)
        with Locations(Location((92, -67, 0), (0, 0, 270))):
            Circle(SZKIC21_R, mode=Mode.SUBTRACT)
    # profile 4 of 4: a face of its own
    with BuildSketch(Plane(origin=(0, 4, 0), x_dir=(1, 0, 0), z_dir=(0, 1, 0))):
        with Locations((92, 67)):
            Rectangle(SZKIC21_W, SZKIC21_H)
        with Locations(Location((92, 67, 0), (0, 0, 270))):
            Circle(SZKIC21_R, mode=Mode.SUBTRACT)
    extrude(amount=DODANIE_WYCI_GNI_CIE5_DEPTH)

    # Szkic22 → Dodanie-wyciągnięcie6 (add)
    with BuildSketch(Plane(origin=(0, 4, 0), x_dir=(1, 0, 0), z_dir=(0, 1, 0))):
        with Locations(Location((89, 18.75, 0), (0, 0, 270))):
            Circle(SZKIC22_R)
        with Locations(Location((51.5, 18.75, 0), (0, 0, 270))):
            Circle(SZKIC22_R)
        with Locations(Location((51.5, -18.75, 0), (0, 0, 270))):
            Circle(SZKIC22_R)
        with Locations(Location((89, -18.75, 0), (0, 0, 270))):
            Circle(SZKIC22_R)
    extrude(amount=DODANIE_WYCI_GNI_CIE6_DEPTH)

    # Szkic23 → Wytnij-wyciągnięcie14 (cut)
    with BuildSketch(Plane(origin=(0, 9, 0), x_dir=(1, 0, 0), z_dir=(0, 1, 0))):
        with Locations(Location((51.5, 18.75, 0), (0, 0, 270))):
            Circle(SZKIC23_R)
        with Locations(Location((89, 18.75, 0), (0, 0, 270))):
            Circle(SZKIC23_R)
        with Locations(Location((51.5, -18.75, 0), (0, 0, 270))):
            Circle(SZKIC23_R)
        with Locations(Location((89, -18.75, 0), (0, 0, 270))):
            Circle(SZKIC23_R)
    extrude(amount=-WYTNIJ_WYCI_GNI_CIE14_DEPTH, mode=Mode.SUBTRACT)

    # Szkic24 → Wytnij-wyciągnięcie15 (cut)
    with BuildSketch(Plane.ZY.offset(100)):
        with Locations((-10.5, 33)):
            Circle(SZKIC24_R)
        with Locations((-10.5, 45.5)):
            Circle(SZKIC24_R)
        with Locations((10.5, 45.5)):
            Circle(SZKIC24_R)
        with Locations((10.5, 33)):
            Circle(SZKIC24_R)
    extrude(amount=-WYTNIJ_WYCI_GNI_CIE15_DEPTH, mode=Mode.SUBTRACT)

    # Sfazowanie5
    sfazowanie5_edges = [part_4.edges().sort_by_distance(p)[0] for p in [
        (-96, 33, 9.5),
        (-96, 45.5, 9.5),
        (-96, 45.5, -11.5),
        (-96, 33, -11.5),
    ]]
    chamfer(sfazowanie5_edges, length=SFAZOWANIE5_SIZE)


solid = part_4.part
